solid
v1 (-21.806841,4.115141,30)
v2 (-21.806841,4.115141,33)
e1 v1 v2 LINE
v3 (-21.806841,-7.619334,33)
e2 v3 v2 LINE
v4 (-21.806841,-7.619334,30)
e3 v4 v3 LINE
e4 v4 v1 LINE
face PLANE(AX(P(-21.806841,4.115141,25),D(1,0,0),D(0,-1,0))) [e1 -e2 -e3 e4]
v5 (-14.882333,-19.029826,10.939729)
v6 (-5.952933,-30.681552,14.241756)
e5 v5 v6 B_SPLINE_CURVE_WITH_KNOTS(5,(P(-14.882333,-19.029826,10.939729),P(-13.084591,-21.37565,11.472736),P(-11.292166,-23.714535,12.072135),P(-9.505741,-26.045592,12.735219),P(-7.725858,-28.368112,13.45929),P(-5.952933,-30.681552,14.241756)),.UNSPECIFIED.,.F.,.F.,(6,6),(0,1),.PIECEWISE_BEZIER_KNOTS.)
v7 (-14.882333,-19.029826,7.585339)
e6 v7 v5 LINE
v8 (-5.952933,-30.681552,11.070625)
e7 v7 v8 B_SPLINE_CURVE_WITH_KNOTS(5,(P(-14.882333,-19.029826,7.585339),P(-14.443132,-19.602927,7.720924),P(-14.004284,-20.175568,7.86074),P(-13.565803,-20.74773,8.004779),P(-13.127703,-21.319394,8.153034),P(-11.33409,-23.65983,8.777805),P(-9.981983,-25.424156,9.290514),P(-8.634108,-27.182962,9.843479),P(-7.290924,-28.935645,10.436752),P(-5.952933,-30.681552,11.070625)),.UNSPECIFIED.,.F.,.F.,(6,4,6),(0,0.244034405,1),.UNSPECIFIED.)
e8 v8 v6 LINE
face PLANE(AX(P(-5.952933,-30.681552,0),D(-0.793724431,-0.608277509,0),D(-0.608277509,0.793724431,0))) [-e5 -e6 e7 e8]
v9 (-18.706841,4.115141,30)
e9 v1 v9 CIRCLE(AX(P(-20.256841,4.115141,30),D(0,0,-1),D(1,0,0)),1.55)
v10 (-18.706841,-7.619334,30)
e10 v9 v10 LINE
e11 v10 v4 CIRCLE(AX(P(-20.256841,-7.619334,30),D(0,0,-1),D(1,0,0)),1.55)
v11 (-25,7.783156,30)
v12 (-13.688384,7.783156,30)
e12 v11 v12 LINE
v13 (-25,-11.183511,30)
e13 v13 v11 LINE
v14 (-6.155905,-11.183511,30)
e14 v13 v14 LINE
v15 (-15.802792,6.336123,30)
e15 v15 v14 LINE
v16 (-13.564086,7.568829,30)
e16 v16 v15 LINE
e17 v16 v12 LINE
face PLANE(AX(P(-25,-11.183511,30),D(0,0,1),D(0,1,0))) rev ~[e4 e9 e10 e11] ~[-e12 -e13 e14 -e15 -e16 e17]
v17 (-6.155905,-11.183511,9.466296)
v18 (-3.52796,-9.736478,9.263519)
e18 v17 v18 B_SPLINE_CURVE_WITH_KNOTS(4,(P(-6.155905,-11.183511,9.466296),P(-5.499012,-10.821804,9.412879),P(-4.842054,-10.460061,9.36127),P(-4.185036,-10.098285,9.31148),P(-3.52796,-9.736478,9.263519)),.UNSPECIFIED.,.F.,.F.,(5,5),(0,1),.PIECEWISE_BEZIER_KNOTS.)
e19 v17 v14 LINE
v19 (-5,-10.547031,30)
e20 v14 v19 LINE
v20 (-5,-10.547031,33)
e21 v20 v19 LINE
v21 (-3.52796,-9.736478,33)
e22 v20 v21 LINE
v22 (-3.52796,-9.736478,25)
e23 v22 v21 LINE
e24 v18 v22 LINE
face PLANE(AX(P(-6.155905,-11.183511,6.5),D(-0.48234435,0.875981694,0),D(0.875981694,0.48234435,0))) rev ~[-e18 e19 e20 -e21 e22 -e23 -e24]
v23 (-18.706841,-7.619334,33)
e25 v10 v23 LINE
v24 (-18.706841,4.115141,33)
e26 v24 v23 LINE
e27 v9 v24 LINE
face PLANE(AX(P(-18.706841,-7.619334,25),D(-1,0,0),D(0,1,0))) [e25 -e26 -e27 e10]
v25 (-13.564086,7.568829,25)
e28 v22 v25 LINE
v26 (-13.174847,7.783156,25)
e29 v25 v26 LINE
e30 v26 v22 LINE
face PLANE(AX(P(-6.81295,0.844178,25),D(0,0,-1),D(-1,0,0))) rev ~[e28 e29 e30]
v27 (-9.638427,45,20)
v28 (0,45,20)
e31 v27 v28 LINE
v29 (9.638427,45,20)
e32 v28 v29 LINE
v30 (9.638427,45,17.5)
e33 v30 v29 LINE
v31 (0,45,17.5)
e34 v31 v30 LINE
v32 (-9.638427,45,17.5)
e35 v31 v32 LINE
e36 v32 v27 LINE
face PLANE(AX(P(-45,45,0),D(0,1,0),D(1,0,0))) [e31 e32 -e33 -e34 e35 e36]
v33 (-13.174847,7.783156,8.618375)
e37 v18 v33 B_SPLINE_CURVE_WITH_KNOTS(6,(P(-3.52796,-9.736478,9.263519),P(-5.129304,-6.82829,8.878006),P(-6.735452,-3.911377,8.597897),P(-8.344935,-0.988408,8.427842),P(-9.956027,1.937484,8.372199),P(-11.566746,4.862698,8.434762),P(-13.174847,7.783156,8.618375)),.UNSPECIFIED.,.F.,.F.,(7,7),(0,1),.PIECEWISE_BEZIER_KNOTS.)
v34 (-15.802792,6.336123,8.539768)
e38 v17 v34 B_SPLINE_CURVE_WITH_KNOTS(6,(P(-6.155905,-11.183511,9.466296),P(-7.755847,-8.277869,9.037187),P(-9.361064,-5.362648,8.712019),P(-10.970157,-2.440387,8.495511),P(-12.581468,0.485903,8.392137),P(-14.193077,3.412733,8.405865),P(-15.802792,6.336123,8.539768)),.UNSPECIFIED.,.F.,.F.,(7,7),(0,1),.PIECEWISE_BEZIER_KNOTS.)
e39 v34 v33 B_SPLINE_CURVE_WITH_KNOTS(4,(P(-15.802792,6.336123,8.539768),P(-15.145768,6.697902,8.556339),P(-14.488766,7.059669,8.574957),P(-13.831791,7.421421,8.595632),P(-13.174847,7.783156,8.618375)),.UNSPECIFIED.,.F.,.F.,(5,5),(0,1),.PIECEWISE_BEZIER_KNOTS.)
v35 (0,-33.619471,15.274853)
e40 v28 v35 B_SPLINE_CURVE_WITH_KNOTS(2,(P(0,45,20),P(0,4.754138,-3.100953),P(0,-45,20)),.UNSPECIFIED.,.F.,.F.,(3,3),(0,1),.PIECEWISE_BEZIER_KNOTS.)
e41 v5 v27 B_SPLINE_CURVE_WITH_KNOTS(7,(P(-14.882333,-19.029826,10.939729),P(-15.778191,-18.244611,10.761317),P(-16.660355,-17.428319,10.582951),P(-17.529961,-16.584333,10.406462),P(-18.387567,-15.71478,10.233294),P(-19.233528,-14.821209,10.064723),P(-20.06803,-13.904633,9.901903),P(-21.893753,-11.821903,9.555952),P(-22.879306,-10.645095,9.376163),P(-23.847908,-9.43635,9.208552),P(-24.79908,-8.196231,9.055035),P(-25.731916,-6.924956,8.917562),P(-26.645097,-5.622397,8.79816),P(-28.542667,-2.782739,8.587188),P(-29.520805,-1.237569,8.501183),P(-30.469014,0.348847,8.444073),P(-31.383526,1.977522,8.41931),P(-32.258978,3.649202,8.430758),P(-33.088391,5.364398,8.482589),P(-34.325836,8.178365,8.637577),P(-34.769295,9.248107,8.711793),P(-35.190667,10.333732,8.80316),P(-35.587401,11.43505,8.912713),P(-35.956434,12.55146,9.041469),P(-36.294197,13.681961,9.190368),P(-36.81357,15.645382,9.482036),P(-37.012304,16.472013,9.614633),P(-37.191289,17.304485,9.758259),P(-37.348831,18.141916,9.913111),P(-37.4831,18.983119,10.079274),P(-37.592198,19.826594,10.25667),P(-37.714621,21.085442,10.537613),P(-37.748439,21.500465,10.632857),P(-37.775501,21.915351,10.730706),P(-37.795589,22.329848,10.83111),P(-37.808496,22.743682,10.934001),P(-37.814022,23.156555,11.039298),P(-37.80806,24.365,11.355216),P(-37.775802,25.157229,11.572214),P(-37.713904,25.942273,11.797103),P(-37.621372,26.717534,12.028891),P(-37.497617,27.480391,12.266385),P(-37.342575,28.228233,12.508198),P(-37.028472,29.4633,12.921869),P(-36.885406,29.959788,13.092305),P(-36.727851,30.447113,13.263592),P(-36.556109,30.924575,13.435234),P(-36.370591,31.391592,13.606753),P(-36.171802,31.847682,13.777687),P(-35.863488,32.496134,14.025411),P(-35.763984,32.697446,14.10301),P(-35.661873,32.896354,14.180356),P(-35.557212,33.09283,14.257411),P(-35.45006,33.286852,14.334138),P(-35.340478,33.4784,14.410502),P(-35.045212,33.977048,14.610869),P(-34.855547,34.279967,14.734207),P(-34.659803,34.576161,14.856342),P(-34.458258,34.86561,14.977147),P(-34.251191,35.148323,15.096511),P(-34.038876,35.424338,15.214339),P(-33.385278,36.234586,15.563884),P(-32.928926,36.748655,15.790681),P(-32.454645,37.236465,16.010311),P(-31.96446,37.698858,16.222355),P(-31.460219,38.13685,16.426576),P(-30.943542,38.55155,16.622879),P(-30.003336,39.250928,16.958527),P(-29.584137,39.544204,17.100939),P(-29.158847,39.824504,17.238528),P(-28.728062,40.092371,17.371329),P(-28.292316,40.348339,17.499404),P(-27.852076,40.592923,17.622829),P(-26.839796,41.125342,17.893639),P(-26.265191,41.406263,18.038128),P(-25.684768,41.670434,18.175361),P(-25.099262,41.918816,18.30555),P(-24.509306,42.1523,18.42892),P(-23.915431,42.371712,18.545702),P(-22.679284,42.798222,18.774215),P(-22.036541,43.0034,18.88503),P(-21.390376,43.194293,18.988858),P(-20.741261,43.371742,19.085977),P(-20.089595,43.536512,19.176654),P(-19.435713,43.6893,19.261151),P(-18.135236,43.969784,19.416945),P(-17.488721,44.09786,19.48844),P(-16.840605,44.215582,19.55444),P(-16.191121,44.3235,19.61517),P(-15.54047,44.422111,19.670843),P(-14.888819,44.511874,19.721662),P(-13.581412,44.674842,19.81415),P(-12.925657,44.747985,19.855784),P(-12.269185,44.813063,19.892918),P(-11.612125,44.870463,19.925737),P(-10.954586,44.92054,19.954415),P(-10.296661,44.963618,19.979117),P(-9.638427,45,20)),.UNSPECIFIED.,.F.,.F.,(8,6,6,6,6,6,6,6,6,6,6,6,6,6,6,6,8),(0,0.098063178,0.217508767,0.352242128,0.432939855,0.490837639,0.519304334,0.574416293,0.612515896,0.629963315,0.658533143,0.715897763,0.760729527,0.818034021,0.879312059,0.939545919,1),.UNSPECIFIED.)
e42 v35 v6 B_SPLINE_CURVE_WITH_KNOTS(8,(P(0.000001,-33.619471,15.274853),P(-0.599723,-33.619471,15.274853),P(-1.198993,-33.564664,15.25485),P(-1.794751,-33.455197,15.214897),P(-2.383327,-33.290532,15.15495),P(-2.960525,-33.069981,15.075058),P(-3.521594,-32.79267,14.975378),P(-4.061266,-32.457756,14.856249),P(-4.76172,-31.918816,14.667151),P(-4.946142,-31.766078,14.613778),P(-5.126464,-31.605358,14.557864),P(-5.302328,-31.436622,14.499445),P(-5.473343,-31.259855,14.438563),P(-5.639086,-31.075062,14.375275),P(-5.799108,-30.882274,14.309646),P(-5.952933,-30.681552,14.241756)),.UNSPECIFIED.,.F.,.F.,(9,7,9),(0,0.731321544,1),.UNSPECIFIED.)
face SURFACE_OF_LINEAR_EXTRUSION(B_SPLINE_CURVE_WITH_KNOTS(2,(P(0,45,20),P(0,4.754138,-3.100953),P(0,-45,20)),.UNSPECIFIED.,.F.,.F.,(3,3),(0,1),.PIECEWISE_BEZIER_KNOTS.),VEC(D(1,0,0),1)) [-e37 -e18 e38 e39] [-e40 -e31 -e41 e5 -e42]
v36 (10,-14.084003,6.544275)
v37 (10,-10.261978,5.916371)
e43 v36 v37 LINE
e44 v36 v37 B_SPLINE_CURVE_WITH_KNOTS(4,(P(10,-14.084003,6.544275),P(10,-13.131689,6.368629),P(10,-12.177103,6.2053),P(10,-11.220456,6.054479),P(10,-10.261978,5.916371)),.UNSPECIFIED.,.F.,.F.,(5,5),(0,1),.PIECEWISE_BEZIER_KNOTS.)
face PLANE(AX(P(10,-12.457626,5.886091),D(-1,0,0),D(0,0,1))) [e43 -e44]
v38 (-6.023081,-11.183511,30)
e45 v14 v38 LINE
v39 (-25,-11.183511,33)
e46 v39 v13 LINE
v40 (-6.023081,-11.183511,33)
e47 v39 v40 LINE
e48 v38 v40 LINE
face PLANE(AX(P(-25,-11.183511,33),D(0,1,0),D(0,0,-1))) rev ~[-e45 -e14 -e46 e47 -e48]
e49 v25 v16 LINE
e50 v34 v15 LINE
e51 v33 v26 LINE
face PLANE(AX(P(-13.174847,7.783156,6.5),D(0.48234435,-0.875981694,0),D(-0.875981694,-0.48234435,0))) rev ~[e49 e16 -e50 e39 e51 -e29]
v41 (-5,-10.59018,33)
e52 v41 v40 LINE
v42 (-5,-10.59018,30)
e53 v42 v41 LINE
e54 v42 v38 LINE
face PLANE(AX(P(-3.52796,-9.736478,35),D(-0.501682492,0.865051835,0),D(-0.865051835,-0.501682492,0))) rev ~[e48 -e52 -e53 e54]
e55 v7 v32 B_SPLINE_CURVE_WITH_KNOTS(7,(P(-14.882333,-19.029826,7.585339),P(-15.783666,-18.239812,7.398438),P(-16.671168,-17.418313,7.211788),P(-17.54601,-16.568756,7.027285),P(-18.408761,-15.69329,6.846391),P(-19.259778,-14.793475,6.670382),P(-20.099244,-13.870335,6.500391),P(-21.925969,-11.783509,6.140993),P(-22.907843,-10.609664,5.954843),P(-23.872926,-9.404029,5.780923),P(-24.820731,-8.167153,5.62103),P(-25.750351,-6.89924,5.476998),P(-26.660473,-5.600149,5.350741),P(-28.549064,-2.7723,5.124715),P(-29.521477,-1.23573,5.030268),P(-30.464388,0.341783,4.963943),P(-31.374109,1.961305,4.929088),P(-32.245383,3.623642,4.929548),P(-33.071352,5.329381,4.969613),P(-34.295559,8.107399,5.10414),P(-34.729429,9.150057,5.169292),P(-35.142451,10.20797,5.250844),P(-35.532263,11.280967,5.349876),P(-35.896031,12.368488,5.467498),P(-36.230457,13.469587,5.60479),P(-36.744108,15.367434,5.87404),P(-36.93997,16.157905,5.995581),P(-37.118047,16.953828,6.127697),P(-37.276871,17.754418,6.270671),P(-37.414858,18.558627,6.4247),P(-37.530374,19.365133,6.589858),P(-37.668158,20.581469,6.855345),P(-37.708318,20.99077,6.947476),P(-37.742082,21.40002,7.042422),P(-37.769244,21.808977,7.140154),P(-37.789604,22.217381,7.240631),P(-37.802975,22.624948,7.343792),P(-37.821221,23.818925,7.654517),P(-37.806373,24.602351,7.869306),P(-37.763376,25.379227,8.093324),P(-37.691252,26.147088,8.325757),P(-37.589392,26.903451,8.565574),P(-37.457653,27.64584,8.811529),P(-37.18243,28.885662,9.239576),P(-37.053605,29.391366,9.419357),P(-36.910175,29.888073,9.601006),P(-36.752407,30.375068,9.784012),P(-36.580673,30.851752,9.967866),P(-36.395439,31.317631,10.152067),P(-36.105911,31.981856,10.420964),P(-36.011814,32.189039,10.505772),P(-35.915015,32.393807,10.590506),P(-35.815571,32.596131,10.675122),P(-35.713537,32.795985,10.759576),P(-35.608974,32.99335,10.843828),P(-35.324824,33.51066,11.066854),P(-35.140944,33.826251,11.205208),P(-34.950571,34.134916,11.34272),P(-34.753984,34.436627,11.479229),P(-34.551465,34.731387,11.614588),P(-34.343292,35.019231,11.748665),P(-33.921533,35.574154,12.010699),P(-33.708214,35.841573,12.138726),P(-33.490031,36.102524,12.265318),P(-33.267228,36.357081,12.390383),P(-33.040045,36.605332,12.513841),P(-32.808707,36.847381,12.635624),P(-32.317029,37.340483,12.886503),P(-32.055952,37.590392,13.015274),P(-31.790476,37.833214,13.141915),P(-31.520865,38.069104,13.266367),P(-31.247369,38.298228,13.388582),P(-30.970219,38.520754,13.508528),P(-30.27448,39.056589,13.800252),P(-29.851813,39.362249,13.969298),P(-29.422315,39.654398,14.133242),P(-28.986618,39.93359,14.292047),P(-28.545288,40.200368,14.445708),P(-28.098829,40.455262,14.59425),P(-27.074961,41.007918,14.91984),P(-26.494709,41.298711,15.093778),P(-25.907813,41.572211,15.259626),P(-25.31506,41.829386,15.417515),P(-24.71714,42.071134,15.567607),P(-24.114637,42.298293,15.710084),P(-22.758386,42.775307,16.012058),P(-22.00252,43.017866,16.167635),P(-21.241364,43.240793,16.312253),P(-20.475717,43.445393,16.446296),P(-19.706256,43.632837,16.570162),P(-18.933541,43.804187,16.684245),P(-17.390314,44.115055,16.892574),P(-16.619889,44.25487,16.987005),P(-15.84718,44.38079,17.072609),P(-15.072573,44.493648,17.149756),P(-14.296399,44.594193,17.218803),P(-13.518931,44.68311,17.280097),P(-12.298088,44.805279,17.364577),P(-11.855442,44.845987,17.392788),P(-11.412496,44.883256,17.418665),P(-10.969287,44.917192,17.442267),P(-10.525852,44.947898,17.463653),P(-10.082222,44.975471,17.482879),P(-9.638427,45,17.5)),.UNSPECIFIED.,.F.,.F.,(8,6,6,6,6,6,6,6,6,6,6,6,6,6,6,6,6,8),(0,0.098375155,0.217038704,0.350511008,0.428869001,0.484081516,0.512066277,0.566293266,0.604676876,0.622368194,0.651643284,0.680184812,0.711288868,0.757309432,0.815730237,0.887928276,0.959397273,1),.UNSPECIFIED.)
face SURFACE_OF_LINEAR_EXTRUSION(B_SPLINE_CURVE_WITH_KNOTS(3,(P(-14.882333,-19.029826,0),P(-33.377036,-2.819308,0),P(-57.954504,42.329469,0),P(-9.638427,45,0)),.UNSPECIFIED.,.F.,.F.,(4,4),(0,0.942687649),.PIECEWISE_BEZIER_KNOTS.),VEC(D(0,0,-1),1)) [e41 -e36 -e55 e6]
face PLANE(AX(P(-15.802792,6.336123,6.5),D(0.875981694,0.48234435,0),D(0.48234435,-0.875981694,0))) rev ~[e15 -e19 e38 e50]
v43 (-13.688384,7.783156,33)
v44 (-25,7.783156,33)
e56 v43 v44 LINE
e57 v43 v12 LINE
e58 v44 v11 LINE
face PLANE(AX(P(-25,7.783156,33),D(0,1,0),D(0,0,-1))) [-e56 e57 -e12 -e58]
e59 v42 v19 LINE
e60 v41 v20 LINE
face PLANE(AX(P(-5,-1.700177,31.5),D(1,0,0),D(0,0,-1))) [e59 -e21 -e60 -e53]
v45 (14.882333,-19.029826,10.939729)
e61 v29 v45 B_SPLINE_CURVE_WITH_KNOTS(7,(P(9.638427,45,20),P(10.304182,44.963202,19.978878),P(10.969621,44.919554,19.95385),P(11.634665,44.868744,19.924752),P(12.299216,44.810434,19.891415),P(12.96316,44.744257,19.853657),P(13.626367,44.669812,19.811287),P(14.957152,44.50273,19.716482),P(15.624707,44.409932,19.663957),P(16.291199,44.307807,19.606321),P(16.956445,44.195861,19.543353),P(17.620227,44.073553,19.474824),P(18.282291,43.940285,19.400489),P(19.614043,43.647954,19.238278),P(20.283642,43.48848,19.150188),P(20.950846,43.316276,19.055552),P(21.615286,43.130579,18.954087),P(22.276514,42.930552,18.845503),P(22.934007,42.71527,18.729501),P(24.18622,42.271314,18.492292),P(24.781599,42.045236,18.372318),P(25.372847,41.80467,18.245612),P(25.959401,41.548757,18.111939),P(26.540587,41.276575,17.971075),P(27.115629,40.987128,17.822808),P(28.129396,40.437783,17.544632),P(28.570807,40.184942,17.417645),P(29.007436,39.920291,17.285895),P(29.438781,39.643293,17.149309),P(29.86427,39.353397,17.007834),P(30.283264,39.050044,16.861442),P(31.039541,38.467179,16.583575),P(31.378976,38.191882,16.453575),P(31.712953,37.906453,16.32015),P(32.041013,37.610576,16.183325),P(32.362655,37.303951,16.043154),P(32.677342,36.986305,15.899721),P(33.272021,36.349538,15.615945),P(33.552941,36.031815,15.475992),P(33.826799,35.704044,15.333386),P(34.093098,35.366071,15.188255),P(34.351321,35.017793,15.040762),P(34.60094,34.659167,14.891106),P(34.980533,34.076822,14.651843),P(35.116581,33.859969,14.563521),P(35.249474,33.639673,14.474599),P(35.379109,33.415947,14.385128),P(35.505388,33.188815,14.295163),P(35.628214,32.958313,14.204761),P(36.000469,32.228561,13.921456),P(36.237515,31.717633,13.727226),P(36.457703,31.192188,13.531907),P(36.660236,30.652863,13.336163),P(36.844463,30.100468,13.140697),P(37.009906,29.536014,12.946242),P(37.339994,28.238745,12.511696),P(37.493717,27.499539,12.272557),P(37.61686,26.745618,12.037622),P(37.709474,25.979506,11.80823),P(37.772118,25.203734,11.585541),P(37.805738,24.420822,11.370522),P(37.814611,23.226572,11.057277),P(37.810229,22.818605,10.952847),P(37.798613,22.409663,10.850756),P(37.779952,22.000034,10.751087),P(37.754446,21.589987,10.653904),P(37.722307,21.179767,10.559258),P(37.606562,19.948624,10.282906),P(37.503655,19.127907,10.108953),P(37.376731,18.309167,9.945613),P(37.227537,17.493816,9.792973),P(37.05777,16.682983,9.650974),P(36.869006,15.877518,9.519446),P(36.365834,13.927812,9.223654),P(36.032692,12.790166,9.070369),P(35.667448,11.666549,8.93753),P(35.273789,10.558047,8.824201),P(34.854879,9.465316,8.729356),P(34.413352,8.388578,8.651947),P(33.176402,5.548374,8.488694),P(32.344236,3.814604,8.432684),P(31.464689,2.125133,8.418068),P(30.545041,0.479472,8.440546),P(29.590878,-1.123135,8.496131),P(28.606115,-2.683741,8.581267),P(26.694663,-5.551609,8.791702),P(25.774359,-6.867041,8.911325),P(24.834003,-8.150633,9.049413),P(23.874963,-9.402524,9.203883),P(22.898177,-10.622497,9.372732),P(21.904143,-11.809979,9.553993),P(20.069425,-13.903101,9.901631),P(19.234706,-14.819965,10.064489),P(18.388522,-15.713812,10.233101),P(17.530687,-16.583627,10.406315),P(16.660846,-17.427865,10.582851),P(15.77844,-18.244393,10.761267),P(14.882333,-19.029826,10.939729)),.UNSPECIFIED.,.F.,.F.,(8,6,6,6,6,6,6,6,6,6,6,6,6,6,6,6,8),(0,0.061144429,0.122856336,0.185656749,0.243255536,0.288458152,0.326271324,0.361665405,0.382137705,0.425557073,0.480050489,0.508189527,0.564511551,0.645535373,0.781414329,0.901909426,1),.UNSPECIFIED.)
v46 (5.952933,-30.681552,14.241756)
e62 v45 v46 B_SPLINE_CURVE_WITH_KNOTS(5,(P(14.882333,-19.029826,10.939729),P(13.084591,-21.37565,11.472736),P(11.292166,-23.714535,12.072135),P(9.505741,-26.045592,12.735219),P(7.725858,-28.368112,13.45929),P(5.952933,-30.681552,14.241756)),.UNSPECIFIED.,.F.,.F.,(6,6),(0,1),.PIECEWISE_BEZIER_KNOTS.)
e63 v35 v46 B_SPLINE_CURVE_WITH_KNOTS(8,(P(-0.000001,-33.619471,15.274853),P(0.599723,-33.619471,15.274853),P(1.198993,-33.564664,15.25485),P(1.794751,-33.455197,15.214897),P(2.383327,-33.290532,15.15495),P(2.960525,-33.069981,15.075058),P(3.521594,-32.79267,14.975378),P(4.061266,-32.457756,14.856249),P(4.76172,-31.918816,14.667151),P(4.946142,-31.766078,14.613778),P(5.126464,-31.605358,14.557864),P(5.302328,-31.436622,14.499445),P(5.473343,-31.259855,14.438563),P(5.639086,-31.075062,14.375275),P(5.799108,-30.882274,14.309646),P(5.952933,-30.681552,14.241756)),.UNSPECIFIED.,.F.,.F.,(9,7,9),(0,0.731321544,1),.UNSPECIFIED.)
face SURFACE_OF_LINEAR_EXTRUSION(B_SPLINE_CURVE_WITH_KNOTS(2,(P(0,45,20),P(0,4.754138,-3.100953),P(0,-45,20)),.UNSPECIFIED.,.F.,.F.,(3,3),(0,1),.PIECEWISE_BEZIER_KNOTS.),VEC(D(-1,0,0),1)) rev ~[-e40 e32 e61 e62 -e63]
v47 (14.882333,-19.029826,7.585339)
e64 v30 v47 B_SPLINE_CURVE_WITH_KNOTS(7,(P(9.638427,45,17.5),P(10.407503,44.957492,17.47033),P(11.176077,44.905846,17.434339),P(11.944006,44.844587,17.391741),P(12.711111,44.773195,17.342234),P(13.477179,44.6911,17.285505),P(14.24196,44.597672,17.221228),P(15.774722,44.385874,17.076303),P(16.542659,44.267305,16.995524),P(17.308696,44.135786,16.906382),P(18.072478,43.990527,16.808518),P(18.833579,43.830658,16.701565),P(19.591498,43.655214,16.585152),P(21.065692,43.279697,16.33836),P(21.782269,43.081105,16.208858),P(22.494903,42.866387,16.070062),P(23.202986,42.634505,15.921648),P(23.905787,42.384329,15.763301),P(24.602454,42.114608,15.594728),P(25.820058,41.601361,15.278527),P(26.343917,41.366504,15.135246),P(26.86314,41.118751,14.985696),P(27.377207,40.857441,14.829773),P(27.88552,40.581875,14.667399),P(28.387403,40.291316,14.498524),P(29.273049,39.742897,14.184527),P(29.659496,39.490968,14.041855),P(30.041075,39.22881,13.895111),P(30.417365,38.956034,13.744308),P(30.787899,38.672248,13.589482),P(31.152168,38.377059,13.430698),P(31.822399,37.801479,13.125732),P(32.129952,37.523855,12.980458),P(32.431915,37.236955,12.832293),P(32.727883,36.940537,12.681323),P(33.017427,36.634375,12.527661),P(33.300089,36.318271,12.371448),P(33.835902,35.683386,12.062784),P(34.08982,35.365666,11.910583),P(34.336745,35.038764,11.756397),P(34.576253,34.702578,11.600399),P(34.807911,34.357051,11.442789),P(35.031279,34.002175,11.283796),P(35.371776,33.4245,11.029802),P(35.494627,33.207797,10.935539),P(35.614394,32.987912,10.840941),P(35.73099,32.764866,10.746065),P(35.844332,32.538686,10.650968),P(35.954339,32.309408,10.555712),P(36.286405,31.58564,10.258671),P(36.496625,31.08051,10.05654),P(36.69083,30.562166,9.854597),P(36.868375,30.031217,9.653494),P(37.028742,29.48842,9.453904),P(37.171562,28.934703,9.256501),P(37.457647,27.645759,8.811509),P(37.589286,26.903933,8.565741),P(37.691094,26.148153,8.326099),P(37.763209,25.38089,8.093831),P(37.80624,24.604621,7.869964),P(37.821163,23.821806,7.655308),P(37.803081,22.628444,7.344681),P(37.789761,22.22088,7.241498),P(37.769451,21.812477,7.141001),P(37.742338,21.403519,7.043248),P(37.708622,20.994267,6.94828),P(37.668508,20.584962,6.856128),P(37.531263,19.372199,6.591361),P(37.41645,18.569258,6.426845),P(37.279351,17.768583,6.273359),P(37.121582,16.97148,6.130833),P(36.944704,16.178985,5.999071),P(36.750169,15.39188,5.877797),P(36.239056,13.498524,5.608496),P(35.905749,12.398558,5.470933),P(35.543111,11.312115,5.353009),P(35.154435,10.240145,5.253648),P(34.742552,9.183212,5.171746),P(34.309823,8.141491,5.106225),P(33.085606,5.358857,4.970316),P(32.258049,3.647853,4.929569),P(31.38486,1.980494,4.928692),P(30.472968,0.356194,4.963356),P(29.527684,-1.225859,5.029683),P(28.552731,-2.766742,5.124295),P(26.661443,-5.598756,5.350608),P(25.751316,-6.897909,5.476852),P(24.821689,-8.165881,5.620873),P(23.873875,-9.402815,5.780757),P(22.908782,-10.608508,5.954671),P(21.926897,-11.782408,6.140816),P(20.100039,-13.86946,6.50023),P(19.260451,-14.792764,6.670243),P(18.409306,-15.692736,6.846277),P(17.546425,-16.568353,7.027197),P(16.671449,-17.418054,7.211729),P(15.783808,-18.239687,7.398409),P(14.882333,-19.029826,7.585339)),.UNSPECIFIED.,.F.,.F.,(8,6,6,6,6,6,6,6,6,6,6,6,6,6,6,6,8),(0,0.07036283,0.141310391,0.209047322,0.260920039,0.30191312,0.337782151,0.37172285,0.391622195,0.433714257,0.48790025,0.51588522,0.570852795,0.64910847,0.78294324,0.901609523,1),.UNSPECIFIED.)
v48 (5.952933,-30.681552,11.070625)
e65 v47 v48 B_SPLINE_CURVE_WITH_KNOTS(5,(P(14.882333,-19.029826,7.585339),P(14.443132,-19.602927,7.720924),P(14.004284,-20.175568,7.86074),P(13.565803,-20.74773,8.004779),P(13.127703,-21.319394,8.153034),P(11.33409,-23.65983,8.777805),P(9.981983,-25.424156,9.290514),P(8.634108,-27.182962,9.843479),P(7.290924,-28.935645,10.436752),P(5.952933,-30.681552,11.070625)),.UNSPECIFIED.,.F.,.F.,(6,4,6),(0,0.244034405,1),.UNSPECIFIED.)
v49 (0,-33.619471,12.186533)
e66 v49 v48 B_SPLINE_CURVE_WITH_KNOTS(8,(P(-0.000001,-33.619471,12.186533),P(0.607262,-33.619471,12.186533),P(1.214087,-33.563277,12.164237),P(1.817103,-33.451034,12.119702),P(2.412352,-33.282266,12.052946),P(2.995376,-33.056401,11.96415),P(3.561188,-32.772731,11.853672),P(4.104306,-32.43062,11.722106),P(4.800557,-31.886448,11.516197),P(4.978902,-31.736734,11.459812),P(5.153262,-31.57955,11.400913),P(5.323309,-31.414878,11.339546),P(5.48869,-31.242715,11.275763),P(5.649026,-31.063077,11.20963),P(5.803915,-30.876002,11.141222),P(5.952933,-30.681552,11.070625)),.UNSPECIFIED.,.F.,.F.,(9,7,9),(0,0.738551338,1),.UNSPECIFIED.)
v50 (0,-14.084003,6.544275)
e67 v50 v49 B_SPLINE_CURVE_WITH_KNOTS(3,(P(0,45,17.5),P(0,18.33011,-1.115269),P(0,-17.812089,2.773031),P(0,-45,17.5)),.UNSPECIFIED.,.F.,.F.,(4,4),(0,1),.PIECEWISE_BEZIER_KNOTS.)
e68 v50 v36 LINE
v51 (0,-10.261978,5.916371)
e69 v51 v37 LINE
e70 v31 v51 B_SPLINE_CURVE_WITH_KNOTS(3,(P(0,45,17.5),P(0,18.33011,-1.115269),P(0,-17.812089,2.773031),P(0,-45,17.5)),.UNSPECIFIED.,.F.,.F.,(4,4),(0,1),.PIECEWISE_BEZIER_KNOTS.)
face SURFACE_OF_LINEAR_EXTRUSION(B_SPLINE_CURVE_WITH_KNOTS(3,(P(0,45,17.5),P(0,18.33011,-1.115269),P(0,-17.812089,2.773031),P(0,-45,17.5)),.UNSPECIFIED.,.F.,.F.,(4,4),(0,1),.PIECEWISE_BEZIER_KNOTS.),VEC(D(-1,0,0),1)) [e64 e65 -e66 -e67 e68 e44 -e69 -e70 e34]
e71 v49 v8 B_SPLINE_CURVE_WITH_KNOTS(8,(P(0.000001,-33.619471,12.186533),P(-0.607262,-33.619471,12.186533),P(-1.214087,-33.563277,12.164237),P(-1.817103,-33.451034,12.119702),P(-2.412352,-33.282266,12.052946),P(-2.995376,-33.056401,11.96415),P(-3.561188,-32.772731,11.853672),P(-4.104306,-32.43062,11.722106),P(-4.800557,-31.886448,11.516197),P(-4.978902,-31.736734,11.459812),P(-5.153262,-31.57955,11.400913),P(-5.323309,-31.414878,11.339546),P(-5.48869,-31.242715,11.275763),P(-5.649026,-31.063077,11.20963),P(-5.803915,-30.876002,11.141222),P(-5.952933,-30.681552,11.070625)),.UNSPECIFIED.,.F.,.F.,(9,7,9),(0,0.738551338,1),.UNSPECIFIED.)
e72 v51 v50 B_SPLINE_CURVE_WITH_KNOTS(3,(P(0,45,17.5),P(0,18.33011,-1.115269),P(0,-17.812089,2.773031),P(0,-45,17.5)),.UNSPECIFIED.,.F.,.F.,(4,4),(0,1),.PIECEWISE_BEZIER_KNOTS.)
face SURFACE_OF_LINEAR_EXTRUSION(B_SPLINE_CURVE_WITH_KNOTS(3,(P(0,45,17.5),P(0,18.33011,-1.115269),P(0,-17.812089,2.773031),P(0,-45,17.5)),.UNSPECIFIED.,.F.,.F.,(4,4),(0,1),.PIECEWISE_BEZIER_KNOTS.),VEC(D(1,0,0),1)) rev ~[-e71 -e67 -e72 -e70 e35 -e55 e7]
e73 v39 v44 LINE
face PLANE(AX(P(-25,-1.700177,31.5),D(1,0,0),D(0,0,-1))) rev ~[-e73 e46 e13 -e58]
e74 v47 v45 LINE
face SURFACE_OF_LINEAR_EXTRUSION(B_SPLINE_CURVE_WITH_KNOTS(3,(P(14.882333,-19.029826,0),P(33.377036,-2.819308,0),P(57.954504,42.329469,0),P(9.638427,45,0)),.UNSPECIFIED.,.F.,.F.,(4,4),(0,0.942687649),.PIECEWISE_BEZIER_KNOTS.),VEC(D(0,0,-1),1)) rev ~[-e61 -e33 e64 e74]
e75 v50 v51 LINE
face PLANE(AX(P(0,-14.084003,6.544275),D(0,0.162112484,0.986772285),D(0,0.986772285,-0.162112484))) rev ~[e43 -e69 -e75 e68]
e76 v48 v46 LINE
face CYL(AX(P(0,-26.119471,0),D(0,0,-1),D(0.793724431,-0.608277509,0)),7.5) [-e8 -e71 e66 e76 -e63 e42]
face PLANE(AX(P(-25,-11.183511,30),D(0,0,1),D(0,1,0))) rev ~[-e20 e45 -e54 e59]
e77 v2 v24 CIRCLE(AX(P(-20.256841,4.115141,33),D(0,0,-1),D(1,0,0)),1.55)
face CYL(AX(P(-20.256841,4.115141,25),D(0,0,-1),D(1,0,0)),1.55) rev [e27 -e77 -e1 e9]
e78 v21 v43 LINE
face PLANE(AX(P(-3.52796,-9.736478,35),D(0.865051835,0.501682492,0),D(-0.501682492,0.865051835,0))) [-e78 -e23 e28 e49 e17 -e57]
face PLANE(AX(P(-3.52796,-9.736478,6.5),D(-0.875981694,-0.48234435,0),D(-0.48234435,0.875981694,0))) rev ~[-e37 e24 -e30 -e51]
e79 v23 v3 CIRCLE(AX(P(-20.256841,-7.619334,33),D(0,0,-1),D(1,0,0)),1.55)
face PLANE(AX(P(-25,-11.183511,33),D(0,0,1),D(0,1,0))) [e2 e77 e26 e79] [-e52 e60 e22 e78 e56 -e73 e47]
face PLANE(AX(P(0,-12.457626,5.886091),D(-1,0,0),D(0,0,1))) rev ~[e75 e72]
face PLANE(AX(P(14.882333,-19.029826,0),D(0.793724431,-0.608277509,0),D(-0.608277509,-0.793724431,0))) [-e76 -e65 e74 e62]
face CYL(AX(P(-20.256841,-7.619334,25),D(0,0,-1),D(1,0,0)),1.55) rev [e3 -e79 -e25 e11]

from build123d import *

# Parameters (mm, degrees)
SKETCH1_W               = 90
SKETCH1_H               = 90
BOSS_EXTRUDE1_DEPTH     = 20
CUT_EXTRUDE1_DEPTH      = 67.708320321
CUT_EXTRUDE1_DEPTH_BACK = 67.708320321
CUT_EXTRUDE2_DEPTH      = 67.708320486
CUT_EXTRUDE2_DEPTH_BACK = 67.708320486
CUT_EXTRUDE13_DEPTH     = 10
BOSS_EXTRUDE5_START     = 6.5
BOSS_EXTRUDE5_DEPTH     = 26.5
BOSS_EXTRUDE7_START     = -25
SKETCH26_W              = 3
SKETCH26_H              = 18.966666926
BOSS_EXTRUDE7_DEPTH     = 20
CUT_EXTRUDE23_START     = 25
SKETCH28_R              = 1.55
CUT_EXTRUDE23_DEPTH     = 10
CUT_EXTRUDE24_START     = 35
CUT_EXTRUDE24_DEPTH     = 10


with BuildPart() as part:
    # Sketch1 → Boss-Extrude1 (new body)
    with BuildSketch(Plane.XY):
        Rectangle(SKETCH1_W, SKETCH1_H)
    extrude(amount=BOSS_EXTRUDE1_DEPTH)

    # Sketch2 → Cut-Extrude1 (cut, two sides)
    with BuildSketch(Plane(origin=(0, 0, 0), x_dir=(0, 0, -1), z_dir=(1, 0, 0))) as cut_extrude1_sk:
        with BuildLine():
            Line((0, -45), (0, 45))
            Line((0, 45), (-17.5, 45))
            add(Edge.make_bspline(
                [(-17.5, 45), (1.11526928, 18.330109849), (-2.773030501, -17.812088562), (-17.5, -45)],
                knots=[0, 0, 0, 0, 1, 1, 1, 1], degree=3))
            Line((-17.5, -45), (0, -45))
        make_face()
        with BuildLine():
            add(Edge.make_bspline(
                [(-20, 45), (3.100953483, 4.754137608), (-20, -45)],
                knots=[0, 0, 0, 1, 1, 1], degree=2))
            Line((-20, -45), (-20, 45))
        make_face()
    extrude(amount=CUT_EXTRUDE1_DEPTH, mode=Mode.SUBTRACT)
    extrude(cut_extrude1_sk.sketch, amount=-CUT_EXTRUDE1_DEPTH_BACK, mode=Mode.SUBTRACT)

    # Sketch3 → Cut-Extrude2 (cut, two sides)
    with BuildSketch(Plane.XY) as cut_extrude2_sk:
        with BuildLine():
            ThreePointArc((5.952933229, -30.681551854), (0, -33.619470534), (-5.952933229, -30.681551854))
            Line((-5.952933229, -30.681551854), (-14.882333073, -19.02982596))
            add(Edge.make_bspline(
                [(-14.882333073, -19.02982596), (-33.37703632, -2.819308001), (-57.954503959, 42.329469412), (-9.638427065, 45)],
                knots=[0, 0, 0, 0, 0.942687649, 0.942687649, 0.942687649, 0.942687649], degree=3))
            Line((-9.638427065, 45), (-45, 45))
            Line((-45, 45), (-45, -45))
            Line((-45, -45), (45, -45))
            Line((45, -45), (45, 45))
            Line((45, 45), (9.638427065, 45))
            add(Edge.make_bspline(
                [(14.882333073, -19.02982596), (33.37703632, -2.819308001), (57.954503959, 42.329469412), (9.638427065, 45)],
                knots=[0, 0, 0, 0, 0.942687649, 0.942687649, 0.942687649, 0.942687649], degree=3))
            Line((14.882333073, -19.02982596), (5.952933229, -30.681551854))
        make_face()
    extrude(amount=CUT_EXTRUDE2_DEPTH, mode=Mode.SUBTRACT)
    extrude(cut_extrude2_sk.sketch, amount=-CUT_EXTRUDE2_DEPTH_BACK, mode=Mode.SUBTRACT)

    # Sketch15 → Cut-Extrude13 (cut)
    with BuildSketch(Plane(origin=(0, 0, 0), x_dir=(0, 0, -1), z_dir=(1, 0, 0))):
        Polygon((-6.544274822, -14.084003466), (-5.916371018, -10.261977823), (-5.185386391, -14.084003466), align=None)
    extrude(amount=CUT_EXTRUDE13_DEPTH, mode=Mode.SUBTRACT)

    # Sketch24 → Boss-Extrude5 (add)
    with BuildSketch(Plane.XY.offset(BOSS_EXTRUDE5_START)):
        Polygon((-15.802792048, 6.336123183), (-6.155905041, -11.183510692), (-3.52795996, -9.736477641), (-13.174846966, 7.783156234), align=None)
    extrude(amount=BOSS_EXTRUDE5_DEPTH)

    # Sketch26 → Boss-Extrude7 (add)
    with BuildSketch(Plane(origin=(0, 0, 0), x_dir=(0, 0, -1), z_dir=(1, 0, 0)).offset(BOSS_EXTRUDE7_START)):
        with Locations((-31.5, -1.700177229)):
            Rectangle(SKETCH26_W, SKETCH26_H)
    extrude(amount=BOSS_EXTRUDE7_DEPTH)

    # Sketch28 → Cut-Extrude23 (cut)
    with BuildSketch(Plane.XY.offset(CUT_EXTRUDE23_START)):
        with Locations((-20.256840538, 4.115140616)):
            Circle(SKETCH28_R)
        with BuildLine():
            Line((-18.706840538, -7.619333671), (-18.706840538, 4.115140616))
            ThreePointArc((-18.706840538, 4.115140616), (-20.256840538, 2.565140616), (-21.806840538, 4.115140616))
            Line((-21.806840538, 4.115140616), (-21.806840538, -7.619333671))
            ThreePointArc((-21.806840538, -7.619333671), (-20.256840538, -6.069333671), (-18.706840538, -7.619333671))
        make_face()
        with Locations((-20.256840538, -7.619333671)):
            Circle(SKETCH28_R)
    extrude(amount=CUT_EXTRUDE23_DEPTH, mode=Mode.SUBTRACT)

    # Sketch29 → Cut-Extrude24 (cut)
    with BuildSketch(Plane.XY.offset(CUT_EXTRUDE24_START)):
        Polygon((-3.77618872, 7.783156234), (-3.52795996, -9.736477641), (-13.688384135, 7.783156234), align=None)
        Polygon((-7.35673341, -11.956955683), (-3.65207434, -11.956955683), (-3.52795996, -9.736477641), align=None)
    extrude(amount=-CUT_EXTRUDE24_DEPTH, mode=Mode.SUBTRACT)


solid = part.part
